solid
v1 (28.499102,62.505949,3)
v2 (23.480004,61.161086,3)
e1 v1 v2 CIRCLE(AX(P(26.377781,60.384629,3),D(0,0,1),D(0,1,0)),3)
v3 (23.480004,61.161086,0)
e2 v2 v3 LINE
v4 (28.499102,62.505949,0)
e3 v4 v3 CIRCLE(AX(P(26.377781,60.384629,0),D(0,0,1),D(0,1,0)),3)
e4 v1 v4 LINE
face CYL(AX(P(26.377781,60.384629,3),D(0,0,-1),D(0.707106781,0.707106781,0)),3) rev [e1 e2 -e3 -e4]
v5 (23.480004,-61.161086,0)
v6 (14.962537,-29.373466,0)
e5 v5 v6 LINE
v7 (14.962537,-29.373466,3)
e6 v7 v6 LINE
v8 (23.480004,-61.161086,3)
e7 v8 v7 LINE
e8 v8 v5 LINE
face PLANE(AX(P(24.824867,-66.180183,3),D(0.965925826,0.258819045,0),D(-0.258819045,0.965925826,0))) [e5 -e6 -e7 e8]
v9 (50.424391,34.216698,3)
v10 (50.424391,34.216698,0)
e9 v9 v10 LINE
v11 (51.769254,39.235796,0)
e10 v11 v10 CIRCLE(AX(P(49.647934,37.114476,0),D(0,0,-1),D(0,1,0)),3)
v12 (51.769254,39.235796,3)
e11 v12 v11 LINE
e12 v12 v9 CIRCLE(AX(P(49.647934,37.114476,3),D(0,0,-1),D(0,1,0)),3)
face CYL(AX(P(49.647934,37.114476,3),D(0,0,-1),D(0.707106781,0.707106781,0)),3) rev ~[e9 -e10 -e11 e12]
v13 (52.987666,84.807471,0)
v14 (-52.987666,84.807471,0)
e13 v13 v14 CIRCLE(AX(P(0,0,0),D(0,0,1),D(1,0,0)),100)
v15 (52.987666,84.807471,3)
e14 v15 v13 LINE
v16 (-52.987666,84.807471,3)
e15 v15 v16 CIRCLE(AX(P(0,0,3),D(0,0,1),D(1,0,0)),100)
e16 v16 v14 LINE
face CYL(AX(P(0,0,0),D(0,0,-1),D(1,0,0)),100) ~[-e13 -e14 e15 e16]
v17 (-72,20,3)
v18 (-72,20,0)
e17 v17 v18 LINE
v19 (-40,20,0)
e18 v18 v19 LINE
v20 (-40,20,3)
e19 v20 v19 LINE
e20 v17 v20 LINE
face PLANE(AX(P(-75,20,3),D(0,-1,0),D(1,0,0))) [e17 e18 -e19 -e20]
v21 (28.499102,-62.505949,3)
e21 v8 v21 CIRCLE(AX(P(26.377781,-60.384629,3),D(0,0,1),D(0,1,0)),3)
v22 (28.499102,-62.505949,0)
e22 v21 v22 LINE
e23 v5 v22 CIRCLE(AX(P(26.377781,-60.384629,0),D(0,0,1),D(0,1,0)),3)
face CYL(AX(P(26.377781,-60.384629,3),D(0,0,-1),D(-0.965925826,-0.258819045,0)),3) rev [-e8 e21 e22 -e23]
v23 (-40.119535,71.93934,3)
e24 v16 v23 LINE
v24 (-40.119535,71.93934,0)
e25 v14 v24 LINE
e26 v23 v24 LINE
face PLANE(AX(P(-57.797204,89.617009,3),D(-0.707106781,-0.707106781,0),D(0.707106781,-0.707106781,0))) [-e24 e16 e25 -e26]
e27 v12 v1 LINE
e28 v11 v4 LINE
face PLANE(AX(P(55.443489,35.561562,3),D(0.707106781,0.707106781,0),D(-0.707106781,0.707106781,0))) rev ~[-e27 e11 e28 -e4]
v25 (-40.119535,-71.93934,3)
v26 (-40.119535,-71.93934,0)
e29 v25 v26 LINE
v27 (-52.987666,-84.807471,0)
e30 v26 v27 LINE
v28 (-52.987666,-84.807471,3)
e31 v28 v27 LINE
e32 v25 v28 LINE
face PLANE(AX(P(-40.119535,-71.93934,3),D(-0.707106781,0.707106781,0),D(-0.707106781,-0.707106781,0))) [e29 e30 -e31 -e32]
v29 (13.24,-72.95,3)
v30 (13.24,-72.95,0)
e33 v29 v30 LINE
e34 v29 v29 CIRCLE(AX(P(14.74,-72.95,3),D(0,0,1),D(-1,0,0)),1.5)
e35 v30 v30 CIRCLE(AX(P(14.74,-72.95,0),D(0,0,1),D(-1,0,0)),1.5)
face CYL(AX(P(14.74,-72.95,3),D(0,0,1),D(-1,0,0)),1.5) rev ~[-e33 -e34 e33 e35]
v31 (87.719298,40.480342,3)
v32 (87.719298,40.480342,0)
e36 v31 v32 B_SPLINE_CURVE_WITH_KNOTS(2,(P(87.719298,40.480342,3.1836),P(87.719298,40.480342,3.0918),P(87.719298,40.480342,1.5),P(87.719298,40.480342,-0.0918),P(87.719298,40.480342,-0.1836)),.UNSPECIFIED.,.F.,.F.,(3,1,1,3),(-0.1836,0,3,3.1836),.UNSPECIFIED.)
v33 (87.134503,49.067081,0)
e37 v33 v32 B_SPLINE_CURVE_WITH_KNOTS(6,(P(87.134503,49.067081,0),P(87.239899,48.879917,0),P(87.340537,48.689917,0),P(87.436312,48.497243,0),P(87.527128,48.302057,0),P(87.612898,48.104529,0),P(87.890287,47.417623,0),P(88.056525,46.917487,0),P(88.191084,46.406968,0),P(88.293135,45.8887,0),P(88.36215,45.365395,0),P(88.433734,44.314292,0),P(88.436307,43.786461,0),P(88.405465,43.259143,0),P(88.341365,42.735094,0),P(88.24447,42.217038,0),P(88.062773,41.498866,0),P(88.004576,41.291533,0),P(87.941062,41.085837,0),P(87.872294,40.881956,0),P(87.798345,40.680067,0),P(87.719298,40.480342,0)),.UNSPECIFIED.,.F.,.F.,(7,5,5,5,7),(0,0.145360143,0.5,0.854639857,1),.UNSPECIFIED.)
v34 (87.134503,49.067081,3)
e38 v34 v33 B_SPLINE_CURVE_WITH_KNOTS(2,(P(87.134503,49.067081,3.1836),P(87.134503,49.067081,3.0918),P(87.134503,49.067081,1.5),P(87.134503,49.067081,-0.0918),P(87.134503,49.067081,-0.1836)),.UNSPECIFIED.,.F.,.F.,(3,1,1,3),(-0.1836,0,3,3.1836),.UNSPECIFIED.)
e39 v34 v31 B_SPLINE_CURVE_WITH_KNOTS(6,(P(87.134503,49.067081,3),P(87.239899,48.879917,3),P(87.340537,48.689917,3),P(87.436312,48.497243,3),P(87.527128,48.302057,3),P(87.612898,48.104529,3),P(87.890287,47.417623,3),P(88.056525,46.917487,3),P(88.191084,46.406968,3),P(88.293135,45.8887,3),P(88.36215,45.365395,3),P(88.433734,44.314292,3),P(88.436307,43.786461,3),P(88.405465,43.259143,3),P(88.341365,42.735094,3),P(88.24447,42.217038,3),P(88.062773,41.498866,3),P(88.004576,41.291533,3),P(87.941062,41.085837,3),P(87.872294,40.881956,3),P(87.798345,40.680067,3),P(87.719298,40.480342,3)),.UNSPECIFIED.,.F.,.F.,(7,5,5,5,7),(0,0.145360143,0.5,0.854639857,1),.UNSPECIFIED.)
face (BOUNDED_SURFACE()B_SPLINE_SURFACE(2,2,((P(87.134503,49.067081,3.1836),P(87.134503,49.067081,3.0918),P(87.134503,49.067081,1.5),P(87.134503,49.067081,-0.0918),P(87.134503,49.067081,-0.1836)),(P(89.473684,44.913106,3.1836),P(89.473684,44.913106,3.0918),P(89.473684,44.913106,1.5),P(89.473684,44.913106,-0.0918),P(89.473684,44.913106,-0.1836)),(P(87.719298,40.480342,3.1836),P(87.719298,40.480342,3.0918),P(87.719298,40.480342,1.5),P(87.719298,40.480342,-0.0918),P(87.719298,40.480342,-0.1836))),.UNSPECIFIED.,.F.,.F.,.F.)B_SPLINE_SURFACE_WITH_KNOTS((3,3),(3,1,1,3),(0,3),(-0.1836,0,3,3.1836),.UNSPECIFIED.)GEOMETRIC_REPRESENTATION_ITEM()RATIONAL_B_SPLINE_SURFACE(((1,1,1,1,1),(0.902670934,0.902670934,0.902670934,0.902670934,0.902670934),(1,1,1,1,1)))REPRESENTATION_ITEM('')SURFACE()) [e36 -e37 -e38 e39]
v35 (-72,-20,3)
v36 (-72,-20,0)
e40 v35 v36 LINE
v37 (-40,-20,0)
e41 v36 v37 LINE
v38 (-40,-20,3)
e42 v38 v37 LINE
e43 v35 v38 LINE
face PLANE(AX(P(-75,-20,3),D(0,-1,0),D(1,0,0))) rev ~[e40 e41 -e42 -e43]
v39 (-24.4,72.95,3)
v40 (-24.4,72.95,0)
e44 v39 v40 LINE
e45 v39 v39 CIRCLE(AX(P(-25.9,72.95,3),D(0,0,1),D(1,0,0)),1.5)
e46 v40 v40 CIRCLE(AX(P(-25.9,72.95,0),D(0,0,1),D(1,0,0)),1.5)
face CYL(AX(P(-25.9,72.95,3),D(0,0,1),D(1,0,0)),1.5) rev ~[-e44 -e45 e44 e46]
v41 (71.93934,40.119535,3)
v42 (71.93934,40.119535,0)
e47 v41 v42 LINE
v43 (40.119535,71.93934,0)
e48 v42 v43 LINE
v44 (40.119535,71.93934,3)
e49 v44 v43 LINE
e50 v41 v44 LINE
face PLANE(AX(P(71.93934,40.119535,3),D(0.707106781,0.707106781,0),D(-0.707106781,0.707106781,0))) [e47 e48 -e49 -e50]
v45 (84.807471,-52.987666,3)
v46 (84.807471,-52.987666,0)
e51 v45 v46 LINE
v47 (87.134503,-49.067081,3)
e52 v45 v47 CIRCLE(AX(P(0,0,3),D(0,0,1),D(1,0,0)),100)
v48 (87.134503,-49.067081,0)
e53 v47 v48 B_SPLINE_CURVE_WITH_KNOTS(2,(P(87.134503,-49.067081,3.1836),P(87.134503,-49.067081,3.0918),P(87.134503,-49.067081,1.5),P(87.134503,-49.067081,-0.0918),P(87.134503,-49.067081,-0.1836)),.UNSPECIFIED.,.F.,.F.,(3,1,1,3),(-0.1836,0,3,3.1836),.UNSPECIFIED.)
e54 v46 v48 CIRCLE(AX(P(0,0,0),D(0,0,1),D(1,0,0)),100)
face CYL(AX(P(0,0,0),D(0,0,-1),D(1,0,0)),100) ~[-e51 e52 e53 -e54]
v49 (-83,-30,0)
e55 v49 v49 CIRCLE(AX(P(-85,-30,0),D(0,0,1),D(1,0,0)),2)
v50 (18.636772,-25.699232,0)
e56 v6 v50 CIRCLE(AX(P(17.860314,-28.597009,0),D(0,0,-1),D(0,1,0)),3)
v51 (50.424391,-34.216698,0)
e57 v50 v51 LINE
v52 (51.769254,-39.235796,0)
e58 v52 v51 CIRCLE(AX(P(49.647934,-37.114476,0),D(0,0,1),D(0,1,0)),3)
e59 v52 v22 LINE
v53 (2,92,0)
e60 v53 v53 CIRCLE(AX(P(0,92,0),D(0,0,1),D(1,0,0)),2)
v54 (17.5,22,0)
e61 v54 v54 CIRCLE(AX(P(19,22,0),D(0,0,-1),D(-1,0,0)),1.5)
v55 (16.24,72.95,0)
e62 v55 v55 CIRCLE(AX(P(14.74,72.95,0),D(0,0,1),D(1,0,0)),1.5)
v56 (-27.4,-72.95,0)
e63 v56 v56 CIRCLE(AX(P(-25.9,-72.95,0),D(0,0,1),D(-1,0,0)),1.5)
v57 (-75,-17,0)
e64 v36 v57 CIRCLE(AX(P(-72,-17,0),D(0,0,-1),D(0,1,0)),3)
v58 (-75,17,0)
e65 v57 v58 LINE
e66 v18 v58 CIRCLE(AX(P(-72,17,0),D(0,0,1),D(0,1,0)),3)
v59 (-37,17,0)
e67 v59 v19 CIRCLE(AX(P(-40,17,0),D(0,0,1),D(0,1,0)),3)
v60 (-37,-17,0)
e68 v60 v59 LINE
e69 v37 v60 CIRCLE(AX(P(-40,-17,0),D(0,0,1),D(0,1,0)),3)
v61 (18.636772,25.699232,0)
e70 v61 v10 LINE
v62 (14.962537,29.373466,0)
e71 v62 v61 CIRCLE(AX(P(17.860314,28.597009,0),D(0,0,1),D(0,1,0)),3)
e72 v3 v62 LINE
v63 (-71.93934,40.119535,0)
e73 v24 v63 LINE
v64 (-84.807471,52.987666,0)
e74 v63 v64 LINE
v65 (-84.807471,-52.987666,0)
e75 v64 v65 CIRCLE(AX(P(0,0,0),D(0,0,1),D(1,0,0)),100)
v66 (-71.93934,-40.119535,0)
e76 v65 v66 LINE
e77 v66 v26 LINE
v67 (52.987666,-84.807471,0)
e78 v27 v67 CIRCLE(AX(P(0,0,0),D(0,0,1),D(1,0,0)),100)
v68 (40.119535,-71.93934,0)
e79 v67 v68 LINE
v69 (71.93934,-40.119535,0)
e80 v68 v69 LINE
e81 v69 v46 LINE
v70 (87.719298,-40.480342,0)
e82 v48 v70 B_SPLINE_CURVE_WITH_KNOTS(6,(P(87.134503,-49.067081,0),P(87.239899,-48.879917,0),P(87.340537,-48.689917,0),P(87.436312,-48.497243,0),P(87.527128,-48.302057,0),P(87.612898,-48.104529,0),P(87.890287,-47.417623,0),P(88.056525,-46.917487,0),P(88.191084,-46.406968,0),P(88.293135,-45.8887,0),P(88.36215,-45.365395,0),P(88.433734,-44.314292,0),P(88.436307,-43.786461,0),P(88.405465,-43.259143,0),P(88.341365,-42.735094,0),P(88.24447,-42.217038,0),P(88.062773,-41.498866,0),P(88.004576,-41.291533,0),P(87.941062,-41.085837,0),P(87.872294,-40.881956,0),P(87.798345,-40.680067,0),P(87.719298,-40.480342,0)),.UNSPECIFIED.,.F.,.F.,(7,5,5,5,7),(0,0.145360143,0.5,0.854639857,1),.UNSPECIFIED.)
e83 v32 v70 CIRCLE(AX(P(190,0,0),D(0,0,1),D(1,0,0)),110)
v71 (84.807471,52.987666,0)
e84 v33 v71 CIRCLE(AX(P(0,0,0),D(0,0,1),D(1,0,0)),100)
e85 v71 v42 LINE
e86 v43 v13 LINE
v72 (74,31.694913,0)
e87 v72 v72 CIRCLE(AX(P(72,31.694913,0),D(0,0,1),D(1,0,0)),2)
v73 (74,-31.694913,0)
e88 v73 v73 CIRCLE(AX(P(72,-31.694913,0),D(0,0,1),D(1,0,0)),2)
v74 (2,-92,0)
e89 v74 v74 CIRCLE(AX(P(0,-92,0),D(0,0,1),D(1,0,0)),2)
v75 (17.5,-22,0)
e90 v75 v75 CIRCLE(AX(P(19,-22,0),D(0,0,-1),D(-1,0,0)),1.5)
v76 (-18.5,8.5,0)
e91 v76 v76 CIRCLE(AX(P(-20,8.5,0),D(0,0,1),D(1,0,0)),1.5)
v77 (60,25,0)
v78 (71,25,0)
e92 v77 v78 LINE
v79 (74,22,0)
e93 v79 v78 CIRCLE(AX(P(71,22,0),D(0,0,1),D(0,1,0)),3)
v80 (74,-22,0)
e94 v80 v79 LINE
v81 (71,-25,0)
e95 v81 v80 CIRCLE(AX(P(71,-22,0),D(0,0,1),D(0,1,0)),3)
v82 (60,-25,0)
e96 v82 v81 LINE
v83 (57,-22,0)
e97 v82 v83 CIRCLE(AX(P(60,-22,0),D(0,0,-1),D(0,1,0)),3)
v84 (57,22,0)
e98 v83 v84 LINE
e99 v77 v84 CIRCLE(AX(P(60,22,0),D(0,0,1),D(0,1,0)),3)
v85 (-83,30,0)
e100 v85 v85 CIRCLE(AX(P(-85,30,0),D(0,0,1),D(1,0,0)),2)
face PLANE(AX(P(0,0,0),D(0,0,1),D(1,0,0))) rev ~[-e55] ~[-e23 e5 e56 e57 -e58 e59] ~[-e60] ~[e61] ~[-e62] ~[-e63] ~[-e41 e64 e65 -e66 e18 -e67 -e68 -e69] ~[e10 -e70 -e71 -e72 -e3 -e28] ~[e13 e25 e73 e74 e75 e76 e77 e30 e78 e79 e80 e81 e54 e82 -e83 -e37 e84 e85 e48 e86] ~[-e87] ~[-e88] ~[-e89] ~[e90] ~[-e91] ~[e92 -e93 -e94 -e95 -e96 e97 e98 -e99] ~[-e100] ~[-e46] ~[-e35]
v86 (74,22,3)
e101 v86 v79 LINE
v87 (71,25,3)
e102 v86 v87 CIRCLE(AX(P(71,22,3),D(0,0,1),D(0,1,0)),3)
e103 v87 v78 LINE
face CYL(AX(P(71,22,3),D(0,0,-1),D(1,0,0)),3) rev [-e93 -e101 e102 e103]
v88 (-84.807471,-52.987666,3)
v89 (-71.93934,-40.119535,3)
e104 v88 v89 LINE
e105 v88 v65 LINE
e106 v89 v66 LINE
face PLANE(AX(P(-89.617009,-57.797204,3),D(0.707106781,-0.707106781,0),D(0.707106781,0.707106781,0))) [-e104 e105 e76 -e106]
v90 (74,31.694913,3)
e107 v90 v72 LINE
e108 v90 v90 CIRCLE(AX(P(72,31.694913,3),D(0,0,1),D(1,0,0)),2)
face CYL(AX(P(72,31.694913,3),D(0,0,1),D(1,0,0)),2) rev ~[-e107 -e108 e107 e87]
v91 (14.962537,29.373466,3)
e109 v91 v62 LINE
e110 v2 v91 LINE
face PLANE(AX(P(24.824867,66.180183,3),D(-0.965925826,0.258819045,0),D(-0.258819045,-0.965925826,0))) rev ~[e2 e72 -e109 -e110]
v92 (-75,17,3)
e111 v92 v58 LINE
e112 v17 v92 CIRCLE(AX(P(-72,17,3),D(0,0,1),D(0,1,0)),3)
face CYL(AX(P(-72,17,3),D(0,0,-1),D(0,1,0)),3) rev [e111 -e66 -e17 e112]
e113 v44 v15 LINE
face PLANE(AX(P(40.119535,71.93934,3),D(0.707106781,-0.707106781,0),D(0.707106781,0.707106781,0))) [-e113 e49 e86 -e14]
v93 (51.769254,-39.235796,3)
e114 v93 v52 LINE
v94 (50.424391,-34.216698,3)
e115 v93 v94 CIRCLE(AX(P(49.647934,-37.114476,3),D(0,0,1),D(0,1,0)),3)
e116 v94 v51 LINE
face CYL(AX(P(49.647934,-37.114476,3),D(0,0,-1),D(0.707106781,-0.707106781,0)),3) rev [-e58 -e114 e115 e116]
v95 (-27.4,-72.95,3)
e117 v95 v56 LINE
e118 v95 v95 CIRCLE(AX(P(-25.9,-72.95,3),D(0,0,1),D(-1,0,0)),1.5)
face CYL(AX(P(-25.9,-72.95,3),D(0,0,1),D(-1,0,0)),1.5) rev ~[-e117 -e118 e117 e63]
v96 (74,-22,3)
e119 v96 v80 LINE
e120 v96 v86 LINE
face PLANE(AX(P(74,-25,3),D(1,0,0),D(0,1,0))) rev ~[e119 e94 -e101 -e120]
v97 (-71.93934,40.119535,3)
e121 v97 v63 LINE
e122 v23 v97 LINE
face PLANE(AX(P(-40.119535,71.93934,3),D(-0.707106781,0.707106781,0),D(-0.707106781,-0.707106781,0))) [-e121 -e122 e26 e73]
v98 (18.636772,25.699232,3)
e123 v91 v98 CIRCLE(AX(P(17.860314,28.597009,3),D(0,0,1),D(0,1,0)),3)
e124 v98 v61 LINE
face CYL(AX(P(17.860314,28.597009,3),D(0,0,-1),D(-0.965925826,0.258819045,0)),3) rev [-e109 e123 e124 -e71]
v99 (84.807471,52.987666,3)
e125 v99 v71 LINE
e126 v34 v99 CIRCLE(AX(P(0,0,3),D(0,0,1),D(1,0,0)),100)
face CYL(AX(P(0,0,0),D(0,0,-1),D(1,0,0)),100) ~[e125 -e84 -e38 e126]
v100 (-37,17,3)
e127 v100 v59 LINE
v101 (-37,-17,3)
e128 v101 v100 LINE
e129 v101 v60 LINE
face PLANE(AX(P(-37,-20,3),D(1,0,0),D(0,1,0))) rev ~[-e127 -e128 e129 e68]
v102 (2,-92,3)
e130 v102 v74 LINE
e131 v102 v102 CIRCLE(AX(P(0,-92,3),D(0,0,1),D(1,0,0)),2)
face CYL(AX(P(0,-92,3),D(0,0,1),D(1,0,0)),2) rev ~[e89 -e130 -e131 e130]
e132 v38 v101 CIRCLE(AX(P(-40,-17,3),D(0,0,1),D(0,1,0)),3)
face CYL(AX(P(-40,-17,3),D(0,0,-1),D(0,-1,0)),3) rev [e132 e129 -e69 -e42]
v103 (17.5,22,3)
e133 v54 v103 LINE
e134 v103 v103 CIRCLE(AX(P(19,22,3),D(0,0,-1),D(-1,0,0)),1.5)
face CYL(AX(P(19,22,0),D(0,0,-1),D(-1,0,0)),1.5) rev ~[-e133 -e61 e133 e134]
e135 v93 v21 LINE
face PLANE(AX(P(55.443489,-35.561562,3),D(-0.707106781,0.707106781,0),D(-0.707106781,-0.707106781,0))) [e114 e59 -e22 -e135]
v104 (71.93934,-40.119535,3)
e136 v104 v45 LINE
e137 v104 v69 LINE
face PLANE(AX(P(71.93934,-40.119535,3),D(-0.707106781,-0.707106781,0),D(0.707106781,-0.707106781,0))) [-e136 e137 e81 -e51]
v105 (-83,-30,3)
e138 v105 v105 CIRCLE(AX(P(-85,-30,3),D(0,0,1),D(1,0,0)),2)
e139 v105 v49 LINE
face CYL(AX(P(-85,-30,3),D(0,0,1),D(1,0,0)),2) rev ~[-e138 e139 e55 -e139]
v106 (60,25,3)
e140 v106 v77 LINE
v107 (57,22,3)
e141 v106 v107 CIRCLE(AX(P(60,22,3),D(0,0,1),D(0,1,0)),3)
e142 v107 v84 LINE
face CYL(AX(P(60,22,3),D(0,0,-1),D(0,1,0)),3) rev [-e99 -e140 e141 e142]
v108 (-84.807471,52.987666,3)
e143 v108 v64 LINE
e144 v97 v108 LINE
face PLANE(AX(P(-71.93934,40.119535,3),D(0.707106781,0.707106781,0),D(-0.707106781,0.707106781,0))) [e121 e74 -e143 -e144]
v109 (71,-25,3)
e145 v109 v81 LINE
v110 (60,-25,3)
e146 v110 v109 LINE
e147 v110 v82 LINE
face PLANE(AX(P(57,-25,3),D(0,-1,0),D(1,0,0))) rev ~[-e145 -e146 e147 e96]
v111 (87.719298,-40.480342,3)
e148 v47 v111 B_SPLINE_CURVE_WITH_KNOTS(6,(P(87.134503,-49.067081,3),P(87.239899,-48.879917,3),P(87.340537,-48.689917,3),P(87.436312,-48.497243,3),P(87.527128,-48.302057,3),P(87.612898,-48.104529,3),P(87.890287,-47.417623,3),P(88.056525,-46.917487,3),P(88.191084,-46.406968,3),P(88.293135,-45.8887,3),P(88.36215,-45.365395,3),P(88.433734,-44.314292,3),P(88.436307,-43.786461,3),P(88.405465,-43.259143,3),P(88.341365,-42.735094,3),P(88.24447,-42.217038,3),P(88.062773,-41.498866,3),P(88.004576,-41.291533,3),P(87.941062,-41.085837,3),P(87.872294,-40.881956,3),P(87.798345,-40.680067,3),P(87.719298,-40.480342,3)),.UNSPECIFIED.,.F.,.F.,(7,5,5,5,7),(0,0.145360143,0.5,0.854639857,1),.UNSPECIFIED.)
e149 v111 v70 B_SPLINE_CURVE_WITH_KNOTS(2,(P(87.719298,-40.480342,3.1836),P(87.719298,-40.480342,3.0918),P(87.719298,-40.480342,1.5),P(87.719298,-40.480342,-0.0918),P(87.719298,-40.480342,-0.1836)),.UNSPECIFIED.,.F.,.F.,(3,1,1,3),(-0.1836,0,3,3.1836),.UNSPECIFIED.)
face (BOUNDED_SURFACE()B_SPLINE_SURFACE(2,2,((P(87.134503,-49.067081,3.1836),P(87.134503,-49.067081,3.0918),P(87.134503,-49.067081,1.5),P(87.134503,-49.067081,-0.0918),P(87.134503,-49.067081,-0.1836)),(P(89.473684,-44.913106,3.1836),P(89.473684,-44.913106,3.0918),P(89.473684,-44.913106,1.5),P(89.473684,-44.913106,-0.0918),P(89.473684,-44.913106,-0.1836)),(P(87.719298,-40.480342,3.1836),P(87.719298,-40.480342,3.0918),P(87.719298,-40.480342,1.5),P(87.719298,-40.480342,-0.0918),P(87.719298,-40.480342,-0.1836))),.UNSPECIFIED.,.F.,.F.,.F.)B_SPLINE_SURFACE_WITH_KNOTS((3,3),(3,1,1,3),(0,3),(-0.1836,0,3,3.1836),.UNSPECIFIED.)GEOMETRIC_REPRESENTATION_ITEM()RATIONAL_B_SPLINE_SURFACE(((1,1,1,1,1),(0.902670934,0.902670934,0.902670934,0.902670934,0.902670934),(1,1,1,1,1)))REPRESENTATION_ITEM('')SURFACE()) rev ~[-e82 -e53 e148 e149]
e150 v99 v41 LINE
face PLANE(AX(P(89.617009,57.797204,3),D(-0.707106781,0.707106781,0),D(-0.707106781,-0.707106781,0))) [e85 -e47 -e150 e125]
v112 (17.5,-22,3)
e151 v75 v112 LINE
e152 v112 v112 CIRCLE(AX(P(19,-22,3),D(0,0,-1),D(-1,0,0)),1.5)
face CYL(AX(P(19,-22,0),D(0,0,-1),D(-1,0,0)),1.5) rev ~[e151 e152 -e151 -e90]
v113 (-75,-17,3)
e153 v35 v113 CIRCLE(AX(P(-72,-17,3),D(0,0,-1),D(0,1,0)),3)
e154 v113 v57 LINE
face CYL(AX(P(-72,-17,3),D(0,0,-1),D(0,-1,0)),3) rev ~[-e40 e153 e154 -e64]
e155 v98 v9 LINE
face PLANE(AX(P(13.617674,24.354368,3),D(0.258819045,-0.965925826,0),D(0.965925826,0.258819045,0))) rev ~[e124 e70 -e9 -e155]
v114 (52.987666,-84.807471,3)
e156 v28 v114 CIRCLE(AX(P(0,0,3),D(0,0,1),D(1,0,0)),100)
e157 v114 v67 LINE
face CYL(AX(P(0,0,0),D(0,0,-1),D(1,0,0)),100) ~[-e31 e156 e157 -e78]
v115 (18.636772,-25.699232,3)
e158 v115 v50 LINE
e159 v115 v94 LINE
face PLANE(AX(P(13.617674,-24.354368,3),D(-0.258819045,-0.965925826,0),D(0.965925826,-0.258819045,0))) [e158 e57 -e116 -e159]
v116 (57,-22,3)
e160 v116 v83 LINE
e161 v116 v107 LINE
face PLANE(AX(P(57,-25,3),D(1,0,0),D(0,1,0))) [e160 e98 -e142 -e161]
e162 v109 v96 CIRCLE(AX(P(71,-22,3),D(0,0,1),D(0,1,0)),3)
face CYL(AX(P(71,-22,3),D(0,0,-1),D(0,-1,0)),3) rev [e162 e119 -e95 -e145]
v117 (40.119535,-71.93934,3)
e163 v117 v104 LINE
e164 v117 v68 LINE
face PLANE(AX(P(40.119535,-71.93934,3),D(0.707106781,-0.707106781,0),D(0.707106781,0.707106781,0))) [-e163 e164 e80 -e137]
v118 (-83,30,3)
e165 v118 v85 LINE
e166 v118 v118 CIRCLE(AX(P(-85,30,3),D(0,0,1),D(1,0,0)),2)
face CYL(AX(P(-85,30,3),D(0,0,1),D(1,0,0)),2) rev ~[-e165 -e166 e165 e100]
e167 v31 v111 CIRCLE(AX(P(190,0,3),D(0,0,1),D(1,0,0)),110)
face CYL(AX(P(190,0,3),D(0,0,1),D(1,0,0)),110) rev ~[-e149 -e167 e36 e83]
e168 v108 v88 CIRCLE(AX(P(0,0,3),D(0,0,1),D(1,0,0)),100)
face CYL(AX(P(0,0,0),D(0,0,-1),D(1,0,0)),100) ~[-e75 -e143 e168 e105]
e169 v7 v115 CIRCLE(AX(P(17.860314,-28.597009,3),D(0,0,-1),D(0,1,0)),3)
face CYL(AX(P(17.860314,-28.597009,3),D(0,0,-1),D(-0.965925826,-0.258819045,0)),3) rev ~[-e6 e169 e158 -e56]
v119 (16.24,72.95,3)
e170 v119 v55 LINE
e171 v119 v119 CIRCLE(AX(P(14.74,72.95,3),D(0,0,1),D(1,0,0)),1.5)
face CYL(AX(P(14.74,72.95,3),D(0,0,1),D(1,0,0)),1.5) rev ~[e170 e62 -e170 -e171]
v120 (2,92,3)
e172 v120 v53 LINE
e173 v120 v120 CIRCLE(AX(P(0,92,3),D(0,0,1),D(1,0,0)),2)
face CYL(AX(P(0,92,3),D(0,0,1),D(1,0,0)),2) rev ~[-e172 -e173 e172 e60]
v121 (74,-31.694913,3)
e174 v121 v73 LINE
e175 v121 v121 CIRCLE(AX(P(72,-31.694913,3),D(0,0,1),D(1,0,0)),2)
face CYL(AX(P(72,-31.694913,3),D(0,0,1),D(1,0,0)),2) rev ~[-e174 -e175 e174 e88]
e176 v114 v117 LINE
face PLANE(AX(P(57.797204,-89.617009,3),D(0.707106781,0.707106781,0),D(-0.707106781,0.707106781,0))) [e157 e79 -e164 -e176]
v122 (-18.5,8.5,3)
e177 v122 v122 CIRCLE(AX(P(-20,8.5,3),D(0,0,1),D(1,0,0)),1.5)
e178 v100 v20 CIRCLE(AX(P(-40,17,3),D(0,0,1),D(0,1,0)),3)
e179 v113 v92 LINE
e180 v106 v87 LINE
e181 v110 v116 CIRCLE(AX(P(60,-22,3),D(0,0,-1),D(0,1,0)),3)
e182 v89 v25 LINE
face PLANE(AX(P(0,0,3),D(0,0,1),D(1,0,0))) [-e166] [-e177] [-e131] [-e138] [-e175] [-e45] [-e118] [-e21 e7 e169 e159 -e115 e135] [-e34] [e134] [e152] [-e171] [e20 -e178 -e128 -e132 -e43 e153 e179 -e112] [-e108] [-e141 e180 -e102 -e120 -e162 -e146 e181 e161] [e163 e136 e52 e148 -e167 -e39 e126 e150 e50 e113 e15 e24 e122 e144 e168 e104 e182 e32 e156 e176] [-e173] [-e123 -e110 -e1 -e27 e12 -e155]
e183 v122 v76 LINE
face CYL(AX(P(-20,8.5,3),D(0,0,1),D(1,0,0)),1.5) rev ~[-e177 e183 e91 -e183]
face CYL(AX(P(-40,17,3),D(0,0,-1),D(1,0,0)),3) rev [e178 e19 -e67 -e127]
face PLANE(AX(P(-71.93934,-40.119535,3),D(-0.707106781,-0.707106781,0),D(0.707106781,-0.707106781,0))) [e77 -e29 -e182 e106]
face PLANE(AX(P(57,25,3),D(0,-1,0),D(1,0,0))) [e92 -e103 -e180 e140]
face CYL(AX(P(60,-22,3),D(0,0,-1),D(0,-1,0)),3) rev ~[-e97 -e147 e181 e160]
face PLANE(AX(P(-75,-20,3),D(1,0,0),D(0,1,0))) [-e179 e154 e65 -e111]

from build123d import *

# Parameters (mm, degrees)
CROQUIS1_R              = 100
SALIENTE_EXTRUIR1_DEPTH = 3
CROQUIS3_R              = 110
CORTAR_EXTRUIR1_DEPTH   = 3
REDONDEO1_R             = 10
CORTAR_EXTRUIR3_DEPTH   = 10
CROQUIS10_R             = 1.5
CORTAR_EXTRUIR4_DEPTH   = 142.453172607
CROQUIS11_R             = 2
CROQUIS11_W             = 17
CROQUIS11_H             = 50
CROQUIS11_W_2           = 38
CROQUIS11_H_2           = 40
CORTAR_EXTRUIR5_DEPTH   = 10
REDONDEO2_R             = 3
CROQUIS12_R             = 1.5
CORTAR_EXTRUIR6_DEPTH   = 142.453172607


with BuildPart() as part:
    # Croquis1 → Saliente-Extruir1 (new body)
    with BuildSketch(Plane.XY):
        Circle(CROQUIS1_R)
    extrude(amount=SALIENTE_EXTRUIR1_DEPTH)

    # Croquis3 → Cortar-Extruir1 (cut)
    with BuildSketch(Plane.XY.offset(3)):
        with Locations((190, 0)):
            Circle(CROQUIS3_R)
    extrude(amount=-CORTAR_EXTRUIR1_DEPTH, mode=Mode.SUBTRACT)

    # Redondeo1
    redondeo1_edges = [part.edges().sort_by_distance(p)[0] for p in [
        (89.473684211, -44.659375654, 1.5),
        (89.473684211, 44.659375654, 1.5),
    ]]
    fillet(redondeo1_edges, radius=REDONDEO1_R)

    # Croquis7 → Cortar-Extruir3 (cut)
    with BuildSketch(Plane.XY.offset(3)):
        Polygon((-71.939339828, -40.119534675), (-40.119534675, -71.939339828), (-57.797204204, -89.617009358), (-89.617009358, -57.797204204), align=None)
        Polygon((-40.119534675, 71.939339828), (-71.939339828, 40.119534675), (-89.617009358, 57.797204204), (-57.797204204, 89.617009358), align=None)
        Polygon((71.939339828, 40.119534675), (40.119534675, 71.939339828), (57.797204204, 89.617009358), (89.617009358, 57.797204204), align=None)
        Polygon((40.119534675, -71.939339828), (71.939339828, -40.119534675), (89.617009358, -57.797204204), (57.797204204, -89.617009358), align=None)
    extrude(amount=-CORTAR_EXTRUIR3_DEPTH, mode=Mode.SUBTRACT)

    # Croquis10 → Cortar-Extruir4 (cut, through all)
    with BuildSketch(Plane.XY.offset(3)):
        with Locations((-20, 8.5)):
            Circle(CROQUIS10_R)
        with Locations((14.74, 72.95)):
            Circle(CROQUIS10_R)
        with Locations((-25.9, 72.95)):
            Circle(CROQUIS10_R)
        with Locations(Location((14.74, -72.95, 0), (0, 0, 180))):
            Circle(CROQUIS10_R)
        with Locations(Location((-25.9, -72.95, 0), (0, 0, 180))):
            Circle(CROQUIS10_R)
    extrude(amount=-CORTAR_EXTRUIR4_DEPTH, mode=Mode.SUBTRACT)

    # Croquis11 → Cortar-Extruir5 (cut)
    with BuildSketch(Plane.XY.offset(3)):
        with Locations((0, 92)):
            Circle(CROQUIS11_R)
        with Locations((0, -92)):
            Circle(CROQUIS11_R)
        with Locations((72, 31.694913472)):
            Circle(CROQUIS11_R)
        with Locations((72, -31.694913472)):
            Circle(CROQUIS11_R)
        with Locations((-85, -30)):
            Circle(CROQUIS11_R)
        with Locations((-85, 30)):
            Circle(CROQUIS11_R)
        with Locations((65.5, 0)):
            Rectangle(CROQUIS11_W, CROQUIS11_H)
        Polygon((55.443488939, 35.561561695), (24.824867154, 66.18018348), (13.617673752, 24.354368293), align=None)
        Polygon((13.617673752, -24.354368293), (55.443488939, -35.561561695), (24.824867154, -66.18018348), align=None)
        with Locations((-56, 0)):
            Rectangle(CROQUIS11_W_2, CROQUIS11_H_2)
    extrude(amount=-CORTAR_EXTRUIR5_DEPTH, mode=Mode.SUBTRACT)

    # Redondeo2
    redondeo2_edges = [part.edges().sort_by_distance(p)[0] for p in [
        (74, 25, 1.5),
        (74, -25, 1.5),
        (57, -25, 1.5),
        (57, 25, 1.5),
        (55.443488939, 35.561561695, 1.5),
        (13.617673752, 24.354368293, 1.5),
        (24.824867154, 66.18018348, 1.5),
        (24.824867154, -66.18018348, 1.5),
        (13.617673752, -24.354368293, 1.5),
        (55.443488939, -35.561561695, 1.5),
        (-37, 20, 1.5),
        (-37, -20, 1.5),
        (-75, -20, 1.5),
        (-75, 20, 1.5),
    ]]
    fillet(redondeo2_edges, radius=REDONDEO2_R)

    # Croquis12 → Cortar-Extruir6 (cut, through all)
    with BuildSketch(Plane(origin=(0, 0, 0), x_dir=(-1, 0, 0), z_dir=(0, 0, -1))):
        with Locations((-19, 22)):
            Circle(CROQUIS12_R)
        with Locations((-19, -22)):
            Circle(CROQUIS12_R)
    extrude(amount=-CORTAR_EXTRUIR6_DEPTH, mode=Mode.SUBTRACT)


solid = part.part
